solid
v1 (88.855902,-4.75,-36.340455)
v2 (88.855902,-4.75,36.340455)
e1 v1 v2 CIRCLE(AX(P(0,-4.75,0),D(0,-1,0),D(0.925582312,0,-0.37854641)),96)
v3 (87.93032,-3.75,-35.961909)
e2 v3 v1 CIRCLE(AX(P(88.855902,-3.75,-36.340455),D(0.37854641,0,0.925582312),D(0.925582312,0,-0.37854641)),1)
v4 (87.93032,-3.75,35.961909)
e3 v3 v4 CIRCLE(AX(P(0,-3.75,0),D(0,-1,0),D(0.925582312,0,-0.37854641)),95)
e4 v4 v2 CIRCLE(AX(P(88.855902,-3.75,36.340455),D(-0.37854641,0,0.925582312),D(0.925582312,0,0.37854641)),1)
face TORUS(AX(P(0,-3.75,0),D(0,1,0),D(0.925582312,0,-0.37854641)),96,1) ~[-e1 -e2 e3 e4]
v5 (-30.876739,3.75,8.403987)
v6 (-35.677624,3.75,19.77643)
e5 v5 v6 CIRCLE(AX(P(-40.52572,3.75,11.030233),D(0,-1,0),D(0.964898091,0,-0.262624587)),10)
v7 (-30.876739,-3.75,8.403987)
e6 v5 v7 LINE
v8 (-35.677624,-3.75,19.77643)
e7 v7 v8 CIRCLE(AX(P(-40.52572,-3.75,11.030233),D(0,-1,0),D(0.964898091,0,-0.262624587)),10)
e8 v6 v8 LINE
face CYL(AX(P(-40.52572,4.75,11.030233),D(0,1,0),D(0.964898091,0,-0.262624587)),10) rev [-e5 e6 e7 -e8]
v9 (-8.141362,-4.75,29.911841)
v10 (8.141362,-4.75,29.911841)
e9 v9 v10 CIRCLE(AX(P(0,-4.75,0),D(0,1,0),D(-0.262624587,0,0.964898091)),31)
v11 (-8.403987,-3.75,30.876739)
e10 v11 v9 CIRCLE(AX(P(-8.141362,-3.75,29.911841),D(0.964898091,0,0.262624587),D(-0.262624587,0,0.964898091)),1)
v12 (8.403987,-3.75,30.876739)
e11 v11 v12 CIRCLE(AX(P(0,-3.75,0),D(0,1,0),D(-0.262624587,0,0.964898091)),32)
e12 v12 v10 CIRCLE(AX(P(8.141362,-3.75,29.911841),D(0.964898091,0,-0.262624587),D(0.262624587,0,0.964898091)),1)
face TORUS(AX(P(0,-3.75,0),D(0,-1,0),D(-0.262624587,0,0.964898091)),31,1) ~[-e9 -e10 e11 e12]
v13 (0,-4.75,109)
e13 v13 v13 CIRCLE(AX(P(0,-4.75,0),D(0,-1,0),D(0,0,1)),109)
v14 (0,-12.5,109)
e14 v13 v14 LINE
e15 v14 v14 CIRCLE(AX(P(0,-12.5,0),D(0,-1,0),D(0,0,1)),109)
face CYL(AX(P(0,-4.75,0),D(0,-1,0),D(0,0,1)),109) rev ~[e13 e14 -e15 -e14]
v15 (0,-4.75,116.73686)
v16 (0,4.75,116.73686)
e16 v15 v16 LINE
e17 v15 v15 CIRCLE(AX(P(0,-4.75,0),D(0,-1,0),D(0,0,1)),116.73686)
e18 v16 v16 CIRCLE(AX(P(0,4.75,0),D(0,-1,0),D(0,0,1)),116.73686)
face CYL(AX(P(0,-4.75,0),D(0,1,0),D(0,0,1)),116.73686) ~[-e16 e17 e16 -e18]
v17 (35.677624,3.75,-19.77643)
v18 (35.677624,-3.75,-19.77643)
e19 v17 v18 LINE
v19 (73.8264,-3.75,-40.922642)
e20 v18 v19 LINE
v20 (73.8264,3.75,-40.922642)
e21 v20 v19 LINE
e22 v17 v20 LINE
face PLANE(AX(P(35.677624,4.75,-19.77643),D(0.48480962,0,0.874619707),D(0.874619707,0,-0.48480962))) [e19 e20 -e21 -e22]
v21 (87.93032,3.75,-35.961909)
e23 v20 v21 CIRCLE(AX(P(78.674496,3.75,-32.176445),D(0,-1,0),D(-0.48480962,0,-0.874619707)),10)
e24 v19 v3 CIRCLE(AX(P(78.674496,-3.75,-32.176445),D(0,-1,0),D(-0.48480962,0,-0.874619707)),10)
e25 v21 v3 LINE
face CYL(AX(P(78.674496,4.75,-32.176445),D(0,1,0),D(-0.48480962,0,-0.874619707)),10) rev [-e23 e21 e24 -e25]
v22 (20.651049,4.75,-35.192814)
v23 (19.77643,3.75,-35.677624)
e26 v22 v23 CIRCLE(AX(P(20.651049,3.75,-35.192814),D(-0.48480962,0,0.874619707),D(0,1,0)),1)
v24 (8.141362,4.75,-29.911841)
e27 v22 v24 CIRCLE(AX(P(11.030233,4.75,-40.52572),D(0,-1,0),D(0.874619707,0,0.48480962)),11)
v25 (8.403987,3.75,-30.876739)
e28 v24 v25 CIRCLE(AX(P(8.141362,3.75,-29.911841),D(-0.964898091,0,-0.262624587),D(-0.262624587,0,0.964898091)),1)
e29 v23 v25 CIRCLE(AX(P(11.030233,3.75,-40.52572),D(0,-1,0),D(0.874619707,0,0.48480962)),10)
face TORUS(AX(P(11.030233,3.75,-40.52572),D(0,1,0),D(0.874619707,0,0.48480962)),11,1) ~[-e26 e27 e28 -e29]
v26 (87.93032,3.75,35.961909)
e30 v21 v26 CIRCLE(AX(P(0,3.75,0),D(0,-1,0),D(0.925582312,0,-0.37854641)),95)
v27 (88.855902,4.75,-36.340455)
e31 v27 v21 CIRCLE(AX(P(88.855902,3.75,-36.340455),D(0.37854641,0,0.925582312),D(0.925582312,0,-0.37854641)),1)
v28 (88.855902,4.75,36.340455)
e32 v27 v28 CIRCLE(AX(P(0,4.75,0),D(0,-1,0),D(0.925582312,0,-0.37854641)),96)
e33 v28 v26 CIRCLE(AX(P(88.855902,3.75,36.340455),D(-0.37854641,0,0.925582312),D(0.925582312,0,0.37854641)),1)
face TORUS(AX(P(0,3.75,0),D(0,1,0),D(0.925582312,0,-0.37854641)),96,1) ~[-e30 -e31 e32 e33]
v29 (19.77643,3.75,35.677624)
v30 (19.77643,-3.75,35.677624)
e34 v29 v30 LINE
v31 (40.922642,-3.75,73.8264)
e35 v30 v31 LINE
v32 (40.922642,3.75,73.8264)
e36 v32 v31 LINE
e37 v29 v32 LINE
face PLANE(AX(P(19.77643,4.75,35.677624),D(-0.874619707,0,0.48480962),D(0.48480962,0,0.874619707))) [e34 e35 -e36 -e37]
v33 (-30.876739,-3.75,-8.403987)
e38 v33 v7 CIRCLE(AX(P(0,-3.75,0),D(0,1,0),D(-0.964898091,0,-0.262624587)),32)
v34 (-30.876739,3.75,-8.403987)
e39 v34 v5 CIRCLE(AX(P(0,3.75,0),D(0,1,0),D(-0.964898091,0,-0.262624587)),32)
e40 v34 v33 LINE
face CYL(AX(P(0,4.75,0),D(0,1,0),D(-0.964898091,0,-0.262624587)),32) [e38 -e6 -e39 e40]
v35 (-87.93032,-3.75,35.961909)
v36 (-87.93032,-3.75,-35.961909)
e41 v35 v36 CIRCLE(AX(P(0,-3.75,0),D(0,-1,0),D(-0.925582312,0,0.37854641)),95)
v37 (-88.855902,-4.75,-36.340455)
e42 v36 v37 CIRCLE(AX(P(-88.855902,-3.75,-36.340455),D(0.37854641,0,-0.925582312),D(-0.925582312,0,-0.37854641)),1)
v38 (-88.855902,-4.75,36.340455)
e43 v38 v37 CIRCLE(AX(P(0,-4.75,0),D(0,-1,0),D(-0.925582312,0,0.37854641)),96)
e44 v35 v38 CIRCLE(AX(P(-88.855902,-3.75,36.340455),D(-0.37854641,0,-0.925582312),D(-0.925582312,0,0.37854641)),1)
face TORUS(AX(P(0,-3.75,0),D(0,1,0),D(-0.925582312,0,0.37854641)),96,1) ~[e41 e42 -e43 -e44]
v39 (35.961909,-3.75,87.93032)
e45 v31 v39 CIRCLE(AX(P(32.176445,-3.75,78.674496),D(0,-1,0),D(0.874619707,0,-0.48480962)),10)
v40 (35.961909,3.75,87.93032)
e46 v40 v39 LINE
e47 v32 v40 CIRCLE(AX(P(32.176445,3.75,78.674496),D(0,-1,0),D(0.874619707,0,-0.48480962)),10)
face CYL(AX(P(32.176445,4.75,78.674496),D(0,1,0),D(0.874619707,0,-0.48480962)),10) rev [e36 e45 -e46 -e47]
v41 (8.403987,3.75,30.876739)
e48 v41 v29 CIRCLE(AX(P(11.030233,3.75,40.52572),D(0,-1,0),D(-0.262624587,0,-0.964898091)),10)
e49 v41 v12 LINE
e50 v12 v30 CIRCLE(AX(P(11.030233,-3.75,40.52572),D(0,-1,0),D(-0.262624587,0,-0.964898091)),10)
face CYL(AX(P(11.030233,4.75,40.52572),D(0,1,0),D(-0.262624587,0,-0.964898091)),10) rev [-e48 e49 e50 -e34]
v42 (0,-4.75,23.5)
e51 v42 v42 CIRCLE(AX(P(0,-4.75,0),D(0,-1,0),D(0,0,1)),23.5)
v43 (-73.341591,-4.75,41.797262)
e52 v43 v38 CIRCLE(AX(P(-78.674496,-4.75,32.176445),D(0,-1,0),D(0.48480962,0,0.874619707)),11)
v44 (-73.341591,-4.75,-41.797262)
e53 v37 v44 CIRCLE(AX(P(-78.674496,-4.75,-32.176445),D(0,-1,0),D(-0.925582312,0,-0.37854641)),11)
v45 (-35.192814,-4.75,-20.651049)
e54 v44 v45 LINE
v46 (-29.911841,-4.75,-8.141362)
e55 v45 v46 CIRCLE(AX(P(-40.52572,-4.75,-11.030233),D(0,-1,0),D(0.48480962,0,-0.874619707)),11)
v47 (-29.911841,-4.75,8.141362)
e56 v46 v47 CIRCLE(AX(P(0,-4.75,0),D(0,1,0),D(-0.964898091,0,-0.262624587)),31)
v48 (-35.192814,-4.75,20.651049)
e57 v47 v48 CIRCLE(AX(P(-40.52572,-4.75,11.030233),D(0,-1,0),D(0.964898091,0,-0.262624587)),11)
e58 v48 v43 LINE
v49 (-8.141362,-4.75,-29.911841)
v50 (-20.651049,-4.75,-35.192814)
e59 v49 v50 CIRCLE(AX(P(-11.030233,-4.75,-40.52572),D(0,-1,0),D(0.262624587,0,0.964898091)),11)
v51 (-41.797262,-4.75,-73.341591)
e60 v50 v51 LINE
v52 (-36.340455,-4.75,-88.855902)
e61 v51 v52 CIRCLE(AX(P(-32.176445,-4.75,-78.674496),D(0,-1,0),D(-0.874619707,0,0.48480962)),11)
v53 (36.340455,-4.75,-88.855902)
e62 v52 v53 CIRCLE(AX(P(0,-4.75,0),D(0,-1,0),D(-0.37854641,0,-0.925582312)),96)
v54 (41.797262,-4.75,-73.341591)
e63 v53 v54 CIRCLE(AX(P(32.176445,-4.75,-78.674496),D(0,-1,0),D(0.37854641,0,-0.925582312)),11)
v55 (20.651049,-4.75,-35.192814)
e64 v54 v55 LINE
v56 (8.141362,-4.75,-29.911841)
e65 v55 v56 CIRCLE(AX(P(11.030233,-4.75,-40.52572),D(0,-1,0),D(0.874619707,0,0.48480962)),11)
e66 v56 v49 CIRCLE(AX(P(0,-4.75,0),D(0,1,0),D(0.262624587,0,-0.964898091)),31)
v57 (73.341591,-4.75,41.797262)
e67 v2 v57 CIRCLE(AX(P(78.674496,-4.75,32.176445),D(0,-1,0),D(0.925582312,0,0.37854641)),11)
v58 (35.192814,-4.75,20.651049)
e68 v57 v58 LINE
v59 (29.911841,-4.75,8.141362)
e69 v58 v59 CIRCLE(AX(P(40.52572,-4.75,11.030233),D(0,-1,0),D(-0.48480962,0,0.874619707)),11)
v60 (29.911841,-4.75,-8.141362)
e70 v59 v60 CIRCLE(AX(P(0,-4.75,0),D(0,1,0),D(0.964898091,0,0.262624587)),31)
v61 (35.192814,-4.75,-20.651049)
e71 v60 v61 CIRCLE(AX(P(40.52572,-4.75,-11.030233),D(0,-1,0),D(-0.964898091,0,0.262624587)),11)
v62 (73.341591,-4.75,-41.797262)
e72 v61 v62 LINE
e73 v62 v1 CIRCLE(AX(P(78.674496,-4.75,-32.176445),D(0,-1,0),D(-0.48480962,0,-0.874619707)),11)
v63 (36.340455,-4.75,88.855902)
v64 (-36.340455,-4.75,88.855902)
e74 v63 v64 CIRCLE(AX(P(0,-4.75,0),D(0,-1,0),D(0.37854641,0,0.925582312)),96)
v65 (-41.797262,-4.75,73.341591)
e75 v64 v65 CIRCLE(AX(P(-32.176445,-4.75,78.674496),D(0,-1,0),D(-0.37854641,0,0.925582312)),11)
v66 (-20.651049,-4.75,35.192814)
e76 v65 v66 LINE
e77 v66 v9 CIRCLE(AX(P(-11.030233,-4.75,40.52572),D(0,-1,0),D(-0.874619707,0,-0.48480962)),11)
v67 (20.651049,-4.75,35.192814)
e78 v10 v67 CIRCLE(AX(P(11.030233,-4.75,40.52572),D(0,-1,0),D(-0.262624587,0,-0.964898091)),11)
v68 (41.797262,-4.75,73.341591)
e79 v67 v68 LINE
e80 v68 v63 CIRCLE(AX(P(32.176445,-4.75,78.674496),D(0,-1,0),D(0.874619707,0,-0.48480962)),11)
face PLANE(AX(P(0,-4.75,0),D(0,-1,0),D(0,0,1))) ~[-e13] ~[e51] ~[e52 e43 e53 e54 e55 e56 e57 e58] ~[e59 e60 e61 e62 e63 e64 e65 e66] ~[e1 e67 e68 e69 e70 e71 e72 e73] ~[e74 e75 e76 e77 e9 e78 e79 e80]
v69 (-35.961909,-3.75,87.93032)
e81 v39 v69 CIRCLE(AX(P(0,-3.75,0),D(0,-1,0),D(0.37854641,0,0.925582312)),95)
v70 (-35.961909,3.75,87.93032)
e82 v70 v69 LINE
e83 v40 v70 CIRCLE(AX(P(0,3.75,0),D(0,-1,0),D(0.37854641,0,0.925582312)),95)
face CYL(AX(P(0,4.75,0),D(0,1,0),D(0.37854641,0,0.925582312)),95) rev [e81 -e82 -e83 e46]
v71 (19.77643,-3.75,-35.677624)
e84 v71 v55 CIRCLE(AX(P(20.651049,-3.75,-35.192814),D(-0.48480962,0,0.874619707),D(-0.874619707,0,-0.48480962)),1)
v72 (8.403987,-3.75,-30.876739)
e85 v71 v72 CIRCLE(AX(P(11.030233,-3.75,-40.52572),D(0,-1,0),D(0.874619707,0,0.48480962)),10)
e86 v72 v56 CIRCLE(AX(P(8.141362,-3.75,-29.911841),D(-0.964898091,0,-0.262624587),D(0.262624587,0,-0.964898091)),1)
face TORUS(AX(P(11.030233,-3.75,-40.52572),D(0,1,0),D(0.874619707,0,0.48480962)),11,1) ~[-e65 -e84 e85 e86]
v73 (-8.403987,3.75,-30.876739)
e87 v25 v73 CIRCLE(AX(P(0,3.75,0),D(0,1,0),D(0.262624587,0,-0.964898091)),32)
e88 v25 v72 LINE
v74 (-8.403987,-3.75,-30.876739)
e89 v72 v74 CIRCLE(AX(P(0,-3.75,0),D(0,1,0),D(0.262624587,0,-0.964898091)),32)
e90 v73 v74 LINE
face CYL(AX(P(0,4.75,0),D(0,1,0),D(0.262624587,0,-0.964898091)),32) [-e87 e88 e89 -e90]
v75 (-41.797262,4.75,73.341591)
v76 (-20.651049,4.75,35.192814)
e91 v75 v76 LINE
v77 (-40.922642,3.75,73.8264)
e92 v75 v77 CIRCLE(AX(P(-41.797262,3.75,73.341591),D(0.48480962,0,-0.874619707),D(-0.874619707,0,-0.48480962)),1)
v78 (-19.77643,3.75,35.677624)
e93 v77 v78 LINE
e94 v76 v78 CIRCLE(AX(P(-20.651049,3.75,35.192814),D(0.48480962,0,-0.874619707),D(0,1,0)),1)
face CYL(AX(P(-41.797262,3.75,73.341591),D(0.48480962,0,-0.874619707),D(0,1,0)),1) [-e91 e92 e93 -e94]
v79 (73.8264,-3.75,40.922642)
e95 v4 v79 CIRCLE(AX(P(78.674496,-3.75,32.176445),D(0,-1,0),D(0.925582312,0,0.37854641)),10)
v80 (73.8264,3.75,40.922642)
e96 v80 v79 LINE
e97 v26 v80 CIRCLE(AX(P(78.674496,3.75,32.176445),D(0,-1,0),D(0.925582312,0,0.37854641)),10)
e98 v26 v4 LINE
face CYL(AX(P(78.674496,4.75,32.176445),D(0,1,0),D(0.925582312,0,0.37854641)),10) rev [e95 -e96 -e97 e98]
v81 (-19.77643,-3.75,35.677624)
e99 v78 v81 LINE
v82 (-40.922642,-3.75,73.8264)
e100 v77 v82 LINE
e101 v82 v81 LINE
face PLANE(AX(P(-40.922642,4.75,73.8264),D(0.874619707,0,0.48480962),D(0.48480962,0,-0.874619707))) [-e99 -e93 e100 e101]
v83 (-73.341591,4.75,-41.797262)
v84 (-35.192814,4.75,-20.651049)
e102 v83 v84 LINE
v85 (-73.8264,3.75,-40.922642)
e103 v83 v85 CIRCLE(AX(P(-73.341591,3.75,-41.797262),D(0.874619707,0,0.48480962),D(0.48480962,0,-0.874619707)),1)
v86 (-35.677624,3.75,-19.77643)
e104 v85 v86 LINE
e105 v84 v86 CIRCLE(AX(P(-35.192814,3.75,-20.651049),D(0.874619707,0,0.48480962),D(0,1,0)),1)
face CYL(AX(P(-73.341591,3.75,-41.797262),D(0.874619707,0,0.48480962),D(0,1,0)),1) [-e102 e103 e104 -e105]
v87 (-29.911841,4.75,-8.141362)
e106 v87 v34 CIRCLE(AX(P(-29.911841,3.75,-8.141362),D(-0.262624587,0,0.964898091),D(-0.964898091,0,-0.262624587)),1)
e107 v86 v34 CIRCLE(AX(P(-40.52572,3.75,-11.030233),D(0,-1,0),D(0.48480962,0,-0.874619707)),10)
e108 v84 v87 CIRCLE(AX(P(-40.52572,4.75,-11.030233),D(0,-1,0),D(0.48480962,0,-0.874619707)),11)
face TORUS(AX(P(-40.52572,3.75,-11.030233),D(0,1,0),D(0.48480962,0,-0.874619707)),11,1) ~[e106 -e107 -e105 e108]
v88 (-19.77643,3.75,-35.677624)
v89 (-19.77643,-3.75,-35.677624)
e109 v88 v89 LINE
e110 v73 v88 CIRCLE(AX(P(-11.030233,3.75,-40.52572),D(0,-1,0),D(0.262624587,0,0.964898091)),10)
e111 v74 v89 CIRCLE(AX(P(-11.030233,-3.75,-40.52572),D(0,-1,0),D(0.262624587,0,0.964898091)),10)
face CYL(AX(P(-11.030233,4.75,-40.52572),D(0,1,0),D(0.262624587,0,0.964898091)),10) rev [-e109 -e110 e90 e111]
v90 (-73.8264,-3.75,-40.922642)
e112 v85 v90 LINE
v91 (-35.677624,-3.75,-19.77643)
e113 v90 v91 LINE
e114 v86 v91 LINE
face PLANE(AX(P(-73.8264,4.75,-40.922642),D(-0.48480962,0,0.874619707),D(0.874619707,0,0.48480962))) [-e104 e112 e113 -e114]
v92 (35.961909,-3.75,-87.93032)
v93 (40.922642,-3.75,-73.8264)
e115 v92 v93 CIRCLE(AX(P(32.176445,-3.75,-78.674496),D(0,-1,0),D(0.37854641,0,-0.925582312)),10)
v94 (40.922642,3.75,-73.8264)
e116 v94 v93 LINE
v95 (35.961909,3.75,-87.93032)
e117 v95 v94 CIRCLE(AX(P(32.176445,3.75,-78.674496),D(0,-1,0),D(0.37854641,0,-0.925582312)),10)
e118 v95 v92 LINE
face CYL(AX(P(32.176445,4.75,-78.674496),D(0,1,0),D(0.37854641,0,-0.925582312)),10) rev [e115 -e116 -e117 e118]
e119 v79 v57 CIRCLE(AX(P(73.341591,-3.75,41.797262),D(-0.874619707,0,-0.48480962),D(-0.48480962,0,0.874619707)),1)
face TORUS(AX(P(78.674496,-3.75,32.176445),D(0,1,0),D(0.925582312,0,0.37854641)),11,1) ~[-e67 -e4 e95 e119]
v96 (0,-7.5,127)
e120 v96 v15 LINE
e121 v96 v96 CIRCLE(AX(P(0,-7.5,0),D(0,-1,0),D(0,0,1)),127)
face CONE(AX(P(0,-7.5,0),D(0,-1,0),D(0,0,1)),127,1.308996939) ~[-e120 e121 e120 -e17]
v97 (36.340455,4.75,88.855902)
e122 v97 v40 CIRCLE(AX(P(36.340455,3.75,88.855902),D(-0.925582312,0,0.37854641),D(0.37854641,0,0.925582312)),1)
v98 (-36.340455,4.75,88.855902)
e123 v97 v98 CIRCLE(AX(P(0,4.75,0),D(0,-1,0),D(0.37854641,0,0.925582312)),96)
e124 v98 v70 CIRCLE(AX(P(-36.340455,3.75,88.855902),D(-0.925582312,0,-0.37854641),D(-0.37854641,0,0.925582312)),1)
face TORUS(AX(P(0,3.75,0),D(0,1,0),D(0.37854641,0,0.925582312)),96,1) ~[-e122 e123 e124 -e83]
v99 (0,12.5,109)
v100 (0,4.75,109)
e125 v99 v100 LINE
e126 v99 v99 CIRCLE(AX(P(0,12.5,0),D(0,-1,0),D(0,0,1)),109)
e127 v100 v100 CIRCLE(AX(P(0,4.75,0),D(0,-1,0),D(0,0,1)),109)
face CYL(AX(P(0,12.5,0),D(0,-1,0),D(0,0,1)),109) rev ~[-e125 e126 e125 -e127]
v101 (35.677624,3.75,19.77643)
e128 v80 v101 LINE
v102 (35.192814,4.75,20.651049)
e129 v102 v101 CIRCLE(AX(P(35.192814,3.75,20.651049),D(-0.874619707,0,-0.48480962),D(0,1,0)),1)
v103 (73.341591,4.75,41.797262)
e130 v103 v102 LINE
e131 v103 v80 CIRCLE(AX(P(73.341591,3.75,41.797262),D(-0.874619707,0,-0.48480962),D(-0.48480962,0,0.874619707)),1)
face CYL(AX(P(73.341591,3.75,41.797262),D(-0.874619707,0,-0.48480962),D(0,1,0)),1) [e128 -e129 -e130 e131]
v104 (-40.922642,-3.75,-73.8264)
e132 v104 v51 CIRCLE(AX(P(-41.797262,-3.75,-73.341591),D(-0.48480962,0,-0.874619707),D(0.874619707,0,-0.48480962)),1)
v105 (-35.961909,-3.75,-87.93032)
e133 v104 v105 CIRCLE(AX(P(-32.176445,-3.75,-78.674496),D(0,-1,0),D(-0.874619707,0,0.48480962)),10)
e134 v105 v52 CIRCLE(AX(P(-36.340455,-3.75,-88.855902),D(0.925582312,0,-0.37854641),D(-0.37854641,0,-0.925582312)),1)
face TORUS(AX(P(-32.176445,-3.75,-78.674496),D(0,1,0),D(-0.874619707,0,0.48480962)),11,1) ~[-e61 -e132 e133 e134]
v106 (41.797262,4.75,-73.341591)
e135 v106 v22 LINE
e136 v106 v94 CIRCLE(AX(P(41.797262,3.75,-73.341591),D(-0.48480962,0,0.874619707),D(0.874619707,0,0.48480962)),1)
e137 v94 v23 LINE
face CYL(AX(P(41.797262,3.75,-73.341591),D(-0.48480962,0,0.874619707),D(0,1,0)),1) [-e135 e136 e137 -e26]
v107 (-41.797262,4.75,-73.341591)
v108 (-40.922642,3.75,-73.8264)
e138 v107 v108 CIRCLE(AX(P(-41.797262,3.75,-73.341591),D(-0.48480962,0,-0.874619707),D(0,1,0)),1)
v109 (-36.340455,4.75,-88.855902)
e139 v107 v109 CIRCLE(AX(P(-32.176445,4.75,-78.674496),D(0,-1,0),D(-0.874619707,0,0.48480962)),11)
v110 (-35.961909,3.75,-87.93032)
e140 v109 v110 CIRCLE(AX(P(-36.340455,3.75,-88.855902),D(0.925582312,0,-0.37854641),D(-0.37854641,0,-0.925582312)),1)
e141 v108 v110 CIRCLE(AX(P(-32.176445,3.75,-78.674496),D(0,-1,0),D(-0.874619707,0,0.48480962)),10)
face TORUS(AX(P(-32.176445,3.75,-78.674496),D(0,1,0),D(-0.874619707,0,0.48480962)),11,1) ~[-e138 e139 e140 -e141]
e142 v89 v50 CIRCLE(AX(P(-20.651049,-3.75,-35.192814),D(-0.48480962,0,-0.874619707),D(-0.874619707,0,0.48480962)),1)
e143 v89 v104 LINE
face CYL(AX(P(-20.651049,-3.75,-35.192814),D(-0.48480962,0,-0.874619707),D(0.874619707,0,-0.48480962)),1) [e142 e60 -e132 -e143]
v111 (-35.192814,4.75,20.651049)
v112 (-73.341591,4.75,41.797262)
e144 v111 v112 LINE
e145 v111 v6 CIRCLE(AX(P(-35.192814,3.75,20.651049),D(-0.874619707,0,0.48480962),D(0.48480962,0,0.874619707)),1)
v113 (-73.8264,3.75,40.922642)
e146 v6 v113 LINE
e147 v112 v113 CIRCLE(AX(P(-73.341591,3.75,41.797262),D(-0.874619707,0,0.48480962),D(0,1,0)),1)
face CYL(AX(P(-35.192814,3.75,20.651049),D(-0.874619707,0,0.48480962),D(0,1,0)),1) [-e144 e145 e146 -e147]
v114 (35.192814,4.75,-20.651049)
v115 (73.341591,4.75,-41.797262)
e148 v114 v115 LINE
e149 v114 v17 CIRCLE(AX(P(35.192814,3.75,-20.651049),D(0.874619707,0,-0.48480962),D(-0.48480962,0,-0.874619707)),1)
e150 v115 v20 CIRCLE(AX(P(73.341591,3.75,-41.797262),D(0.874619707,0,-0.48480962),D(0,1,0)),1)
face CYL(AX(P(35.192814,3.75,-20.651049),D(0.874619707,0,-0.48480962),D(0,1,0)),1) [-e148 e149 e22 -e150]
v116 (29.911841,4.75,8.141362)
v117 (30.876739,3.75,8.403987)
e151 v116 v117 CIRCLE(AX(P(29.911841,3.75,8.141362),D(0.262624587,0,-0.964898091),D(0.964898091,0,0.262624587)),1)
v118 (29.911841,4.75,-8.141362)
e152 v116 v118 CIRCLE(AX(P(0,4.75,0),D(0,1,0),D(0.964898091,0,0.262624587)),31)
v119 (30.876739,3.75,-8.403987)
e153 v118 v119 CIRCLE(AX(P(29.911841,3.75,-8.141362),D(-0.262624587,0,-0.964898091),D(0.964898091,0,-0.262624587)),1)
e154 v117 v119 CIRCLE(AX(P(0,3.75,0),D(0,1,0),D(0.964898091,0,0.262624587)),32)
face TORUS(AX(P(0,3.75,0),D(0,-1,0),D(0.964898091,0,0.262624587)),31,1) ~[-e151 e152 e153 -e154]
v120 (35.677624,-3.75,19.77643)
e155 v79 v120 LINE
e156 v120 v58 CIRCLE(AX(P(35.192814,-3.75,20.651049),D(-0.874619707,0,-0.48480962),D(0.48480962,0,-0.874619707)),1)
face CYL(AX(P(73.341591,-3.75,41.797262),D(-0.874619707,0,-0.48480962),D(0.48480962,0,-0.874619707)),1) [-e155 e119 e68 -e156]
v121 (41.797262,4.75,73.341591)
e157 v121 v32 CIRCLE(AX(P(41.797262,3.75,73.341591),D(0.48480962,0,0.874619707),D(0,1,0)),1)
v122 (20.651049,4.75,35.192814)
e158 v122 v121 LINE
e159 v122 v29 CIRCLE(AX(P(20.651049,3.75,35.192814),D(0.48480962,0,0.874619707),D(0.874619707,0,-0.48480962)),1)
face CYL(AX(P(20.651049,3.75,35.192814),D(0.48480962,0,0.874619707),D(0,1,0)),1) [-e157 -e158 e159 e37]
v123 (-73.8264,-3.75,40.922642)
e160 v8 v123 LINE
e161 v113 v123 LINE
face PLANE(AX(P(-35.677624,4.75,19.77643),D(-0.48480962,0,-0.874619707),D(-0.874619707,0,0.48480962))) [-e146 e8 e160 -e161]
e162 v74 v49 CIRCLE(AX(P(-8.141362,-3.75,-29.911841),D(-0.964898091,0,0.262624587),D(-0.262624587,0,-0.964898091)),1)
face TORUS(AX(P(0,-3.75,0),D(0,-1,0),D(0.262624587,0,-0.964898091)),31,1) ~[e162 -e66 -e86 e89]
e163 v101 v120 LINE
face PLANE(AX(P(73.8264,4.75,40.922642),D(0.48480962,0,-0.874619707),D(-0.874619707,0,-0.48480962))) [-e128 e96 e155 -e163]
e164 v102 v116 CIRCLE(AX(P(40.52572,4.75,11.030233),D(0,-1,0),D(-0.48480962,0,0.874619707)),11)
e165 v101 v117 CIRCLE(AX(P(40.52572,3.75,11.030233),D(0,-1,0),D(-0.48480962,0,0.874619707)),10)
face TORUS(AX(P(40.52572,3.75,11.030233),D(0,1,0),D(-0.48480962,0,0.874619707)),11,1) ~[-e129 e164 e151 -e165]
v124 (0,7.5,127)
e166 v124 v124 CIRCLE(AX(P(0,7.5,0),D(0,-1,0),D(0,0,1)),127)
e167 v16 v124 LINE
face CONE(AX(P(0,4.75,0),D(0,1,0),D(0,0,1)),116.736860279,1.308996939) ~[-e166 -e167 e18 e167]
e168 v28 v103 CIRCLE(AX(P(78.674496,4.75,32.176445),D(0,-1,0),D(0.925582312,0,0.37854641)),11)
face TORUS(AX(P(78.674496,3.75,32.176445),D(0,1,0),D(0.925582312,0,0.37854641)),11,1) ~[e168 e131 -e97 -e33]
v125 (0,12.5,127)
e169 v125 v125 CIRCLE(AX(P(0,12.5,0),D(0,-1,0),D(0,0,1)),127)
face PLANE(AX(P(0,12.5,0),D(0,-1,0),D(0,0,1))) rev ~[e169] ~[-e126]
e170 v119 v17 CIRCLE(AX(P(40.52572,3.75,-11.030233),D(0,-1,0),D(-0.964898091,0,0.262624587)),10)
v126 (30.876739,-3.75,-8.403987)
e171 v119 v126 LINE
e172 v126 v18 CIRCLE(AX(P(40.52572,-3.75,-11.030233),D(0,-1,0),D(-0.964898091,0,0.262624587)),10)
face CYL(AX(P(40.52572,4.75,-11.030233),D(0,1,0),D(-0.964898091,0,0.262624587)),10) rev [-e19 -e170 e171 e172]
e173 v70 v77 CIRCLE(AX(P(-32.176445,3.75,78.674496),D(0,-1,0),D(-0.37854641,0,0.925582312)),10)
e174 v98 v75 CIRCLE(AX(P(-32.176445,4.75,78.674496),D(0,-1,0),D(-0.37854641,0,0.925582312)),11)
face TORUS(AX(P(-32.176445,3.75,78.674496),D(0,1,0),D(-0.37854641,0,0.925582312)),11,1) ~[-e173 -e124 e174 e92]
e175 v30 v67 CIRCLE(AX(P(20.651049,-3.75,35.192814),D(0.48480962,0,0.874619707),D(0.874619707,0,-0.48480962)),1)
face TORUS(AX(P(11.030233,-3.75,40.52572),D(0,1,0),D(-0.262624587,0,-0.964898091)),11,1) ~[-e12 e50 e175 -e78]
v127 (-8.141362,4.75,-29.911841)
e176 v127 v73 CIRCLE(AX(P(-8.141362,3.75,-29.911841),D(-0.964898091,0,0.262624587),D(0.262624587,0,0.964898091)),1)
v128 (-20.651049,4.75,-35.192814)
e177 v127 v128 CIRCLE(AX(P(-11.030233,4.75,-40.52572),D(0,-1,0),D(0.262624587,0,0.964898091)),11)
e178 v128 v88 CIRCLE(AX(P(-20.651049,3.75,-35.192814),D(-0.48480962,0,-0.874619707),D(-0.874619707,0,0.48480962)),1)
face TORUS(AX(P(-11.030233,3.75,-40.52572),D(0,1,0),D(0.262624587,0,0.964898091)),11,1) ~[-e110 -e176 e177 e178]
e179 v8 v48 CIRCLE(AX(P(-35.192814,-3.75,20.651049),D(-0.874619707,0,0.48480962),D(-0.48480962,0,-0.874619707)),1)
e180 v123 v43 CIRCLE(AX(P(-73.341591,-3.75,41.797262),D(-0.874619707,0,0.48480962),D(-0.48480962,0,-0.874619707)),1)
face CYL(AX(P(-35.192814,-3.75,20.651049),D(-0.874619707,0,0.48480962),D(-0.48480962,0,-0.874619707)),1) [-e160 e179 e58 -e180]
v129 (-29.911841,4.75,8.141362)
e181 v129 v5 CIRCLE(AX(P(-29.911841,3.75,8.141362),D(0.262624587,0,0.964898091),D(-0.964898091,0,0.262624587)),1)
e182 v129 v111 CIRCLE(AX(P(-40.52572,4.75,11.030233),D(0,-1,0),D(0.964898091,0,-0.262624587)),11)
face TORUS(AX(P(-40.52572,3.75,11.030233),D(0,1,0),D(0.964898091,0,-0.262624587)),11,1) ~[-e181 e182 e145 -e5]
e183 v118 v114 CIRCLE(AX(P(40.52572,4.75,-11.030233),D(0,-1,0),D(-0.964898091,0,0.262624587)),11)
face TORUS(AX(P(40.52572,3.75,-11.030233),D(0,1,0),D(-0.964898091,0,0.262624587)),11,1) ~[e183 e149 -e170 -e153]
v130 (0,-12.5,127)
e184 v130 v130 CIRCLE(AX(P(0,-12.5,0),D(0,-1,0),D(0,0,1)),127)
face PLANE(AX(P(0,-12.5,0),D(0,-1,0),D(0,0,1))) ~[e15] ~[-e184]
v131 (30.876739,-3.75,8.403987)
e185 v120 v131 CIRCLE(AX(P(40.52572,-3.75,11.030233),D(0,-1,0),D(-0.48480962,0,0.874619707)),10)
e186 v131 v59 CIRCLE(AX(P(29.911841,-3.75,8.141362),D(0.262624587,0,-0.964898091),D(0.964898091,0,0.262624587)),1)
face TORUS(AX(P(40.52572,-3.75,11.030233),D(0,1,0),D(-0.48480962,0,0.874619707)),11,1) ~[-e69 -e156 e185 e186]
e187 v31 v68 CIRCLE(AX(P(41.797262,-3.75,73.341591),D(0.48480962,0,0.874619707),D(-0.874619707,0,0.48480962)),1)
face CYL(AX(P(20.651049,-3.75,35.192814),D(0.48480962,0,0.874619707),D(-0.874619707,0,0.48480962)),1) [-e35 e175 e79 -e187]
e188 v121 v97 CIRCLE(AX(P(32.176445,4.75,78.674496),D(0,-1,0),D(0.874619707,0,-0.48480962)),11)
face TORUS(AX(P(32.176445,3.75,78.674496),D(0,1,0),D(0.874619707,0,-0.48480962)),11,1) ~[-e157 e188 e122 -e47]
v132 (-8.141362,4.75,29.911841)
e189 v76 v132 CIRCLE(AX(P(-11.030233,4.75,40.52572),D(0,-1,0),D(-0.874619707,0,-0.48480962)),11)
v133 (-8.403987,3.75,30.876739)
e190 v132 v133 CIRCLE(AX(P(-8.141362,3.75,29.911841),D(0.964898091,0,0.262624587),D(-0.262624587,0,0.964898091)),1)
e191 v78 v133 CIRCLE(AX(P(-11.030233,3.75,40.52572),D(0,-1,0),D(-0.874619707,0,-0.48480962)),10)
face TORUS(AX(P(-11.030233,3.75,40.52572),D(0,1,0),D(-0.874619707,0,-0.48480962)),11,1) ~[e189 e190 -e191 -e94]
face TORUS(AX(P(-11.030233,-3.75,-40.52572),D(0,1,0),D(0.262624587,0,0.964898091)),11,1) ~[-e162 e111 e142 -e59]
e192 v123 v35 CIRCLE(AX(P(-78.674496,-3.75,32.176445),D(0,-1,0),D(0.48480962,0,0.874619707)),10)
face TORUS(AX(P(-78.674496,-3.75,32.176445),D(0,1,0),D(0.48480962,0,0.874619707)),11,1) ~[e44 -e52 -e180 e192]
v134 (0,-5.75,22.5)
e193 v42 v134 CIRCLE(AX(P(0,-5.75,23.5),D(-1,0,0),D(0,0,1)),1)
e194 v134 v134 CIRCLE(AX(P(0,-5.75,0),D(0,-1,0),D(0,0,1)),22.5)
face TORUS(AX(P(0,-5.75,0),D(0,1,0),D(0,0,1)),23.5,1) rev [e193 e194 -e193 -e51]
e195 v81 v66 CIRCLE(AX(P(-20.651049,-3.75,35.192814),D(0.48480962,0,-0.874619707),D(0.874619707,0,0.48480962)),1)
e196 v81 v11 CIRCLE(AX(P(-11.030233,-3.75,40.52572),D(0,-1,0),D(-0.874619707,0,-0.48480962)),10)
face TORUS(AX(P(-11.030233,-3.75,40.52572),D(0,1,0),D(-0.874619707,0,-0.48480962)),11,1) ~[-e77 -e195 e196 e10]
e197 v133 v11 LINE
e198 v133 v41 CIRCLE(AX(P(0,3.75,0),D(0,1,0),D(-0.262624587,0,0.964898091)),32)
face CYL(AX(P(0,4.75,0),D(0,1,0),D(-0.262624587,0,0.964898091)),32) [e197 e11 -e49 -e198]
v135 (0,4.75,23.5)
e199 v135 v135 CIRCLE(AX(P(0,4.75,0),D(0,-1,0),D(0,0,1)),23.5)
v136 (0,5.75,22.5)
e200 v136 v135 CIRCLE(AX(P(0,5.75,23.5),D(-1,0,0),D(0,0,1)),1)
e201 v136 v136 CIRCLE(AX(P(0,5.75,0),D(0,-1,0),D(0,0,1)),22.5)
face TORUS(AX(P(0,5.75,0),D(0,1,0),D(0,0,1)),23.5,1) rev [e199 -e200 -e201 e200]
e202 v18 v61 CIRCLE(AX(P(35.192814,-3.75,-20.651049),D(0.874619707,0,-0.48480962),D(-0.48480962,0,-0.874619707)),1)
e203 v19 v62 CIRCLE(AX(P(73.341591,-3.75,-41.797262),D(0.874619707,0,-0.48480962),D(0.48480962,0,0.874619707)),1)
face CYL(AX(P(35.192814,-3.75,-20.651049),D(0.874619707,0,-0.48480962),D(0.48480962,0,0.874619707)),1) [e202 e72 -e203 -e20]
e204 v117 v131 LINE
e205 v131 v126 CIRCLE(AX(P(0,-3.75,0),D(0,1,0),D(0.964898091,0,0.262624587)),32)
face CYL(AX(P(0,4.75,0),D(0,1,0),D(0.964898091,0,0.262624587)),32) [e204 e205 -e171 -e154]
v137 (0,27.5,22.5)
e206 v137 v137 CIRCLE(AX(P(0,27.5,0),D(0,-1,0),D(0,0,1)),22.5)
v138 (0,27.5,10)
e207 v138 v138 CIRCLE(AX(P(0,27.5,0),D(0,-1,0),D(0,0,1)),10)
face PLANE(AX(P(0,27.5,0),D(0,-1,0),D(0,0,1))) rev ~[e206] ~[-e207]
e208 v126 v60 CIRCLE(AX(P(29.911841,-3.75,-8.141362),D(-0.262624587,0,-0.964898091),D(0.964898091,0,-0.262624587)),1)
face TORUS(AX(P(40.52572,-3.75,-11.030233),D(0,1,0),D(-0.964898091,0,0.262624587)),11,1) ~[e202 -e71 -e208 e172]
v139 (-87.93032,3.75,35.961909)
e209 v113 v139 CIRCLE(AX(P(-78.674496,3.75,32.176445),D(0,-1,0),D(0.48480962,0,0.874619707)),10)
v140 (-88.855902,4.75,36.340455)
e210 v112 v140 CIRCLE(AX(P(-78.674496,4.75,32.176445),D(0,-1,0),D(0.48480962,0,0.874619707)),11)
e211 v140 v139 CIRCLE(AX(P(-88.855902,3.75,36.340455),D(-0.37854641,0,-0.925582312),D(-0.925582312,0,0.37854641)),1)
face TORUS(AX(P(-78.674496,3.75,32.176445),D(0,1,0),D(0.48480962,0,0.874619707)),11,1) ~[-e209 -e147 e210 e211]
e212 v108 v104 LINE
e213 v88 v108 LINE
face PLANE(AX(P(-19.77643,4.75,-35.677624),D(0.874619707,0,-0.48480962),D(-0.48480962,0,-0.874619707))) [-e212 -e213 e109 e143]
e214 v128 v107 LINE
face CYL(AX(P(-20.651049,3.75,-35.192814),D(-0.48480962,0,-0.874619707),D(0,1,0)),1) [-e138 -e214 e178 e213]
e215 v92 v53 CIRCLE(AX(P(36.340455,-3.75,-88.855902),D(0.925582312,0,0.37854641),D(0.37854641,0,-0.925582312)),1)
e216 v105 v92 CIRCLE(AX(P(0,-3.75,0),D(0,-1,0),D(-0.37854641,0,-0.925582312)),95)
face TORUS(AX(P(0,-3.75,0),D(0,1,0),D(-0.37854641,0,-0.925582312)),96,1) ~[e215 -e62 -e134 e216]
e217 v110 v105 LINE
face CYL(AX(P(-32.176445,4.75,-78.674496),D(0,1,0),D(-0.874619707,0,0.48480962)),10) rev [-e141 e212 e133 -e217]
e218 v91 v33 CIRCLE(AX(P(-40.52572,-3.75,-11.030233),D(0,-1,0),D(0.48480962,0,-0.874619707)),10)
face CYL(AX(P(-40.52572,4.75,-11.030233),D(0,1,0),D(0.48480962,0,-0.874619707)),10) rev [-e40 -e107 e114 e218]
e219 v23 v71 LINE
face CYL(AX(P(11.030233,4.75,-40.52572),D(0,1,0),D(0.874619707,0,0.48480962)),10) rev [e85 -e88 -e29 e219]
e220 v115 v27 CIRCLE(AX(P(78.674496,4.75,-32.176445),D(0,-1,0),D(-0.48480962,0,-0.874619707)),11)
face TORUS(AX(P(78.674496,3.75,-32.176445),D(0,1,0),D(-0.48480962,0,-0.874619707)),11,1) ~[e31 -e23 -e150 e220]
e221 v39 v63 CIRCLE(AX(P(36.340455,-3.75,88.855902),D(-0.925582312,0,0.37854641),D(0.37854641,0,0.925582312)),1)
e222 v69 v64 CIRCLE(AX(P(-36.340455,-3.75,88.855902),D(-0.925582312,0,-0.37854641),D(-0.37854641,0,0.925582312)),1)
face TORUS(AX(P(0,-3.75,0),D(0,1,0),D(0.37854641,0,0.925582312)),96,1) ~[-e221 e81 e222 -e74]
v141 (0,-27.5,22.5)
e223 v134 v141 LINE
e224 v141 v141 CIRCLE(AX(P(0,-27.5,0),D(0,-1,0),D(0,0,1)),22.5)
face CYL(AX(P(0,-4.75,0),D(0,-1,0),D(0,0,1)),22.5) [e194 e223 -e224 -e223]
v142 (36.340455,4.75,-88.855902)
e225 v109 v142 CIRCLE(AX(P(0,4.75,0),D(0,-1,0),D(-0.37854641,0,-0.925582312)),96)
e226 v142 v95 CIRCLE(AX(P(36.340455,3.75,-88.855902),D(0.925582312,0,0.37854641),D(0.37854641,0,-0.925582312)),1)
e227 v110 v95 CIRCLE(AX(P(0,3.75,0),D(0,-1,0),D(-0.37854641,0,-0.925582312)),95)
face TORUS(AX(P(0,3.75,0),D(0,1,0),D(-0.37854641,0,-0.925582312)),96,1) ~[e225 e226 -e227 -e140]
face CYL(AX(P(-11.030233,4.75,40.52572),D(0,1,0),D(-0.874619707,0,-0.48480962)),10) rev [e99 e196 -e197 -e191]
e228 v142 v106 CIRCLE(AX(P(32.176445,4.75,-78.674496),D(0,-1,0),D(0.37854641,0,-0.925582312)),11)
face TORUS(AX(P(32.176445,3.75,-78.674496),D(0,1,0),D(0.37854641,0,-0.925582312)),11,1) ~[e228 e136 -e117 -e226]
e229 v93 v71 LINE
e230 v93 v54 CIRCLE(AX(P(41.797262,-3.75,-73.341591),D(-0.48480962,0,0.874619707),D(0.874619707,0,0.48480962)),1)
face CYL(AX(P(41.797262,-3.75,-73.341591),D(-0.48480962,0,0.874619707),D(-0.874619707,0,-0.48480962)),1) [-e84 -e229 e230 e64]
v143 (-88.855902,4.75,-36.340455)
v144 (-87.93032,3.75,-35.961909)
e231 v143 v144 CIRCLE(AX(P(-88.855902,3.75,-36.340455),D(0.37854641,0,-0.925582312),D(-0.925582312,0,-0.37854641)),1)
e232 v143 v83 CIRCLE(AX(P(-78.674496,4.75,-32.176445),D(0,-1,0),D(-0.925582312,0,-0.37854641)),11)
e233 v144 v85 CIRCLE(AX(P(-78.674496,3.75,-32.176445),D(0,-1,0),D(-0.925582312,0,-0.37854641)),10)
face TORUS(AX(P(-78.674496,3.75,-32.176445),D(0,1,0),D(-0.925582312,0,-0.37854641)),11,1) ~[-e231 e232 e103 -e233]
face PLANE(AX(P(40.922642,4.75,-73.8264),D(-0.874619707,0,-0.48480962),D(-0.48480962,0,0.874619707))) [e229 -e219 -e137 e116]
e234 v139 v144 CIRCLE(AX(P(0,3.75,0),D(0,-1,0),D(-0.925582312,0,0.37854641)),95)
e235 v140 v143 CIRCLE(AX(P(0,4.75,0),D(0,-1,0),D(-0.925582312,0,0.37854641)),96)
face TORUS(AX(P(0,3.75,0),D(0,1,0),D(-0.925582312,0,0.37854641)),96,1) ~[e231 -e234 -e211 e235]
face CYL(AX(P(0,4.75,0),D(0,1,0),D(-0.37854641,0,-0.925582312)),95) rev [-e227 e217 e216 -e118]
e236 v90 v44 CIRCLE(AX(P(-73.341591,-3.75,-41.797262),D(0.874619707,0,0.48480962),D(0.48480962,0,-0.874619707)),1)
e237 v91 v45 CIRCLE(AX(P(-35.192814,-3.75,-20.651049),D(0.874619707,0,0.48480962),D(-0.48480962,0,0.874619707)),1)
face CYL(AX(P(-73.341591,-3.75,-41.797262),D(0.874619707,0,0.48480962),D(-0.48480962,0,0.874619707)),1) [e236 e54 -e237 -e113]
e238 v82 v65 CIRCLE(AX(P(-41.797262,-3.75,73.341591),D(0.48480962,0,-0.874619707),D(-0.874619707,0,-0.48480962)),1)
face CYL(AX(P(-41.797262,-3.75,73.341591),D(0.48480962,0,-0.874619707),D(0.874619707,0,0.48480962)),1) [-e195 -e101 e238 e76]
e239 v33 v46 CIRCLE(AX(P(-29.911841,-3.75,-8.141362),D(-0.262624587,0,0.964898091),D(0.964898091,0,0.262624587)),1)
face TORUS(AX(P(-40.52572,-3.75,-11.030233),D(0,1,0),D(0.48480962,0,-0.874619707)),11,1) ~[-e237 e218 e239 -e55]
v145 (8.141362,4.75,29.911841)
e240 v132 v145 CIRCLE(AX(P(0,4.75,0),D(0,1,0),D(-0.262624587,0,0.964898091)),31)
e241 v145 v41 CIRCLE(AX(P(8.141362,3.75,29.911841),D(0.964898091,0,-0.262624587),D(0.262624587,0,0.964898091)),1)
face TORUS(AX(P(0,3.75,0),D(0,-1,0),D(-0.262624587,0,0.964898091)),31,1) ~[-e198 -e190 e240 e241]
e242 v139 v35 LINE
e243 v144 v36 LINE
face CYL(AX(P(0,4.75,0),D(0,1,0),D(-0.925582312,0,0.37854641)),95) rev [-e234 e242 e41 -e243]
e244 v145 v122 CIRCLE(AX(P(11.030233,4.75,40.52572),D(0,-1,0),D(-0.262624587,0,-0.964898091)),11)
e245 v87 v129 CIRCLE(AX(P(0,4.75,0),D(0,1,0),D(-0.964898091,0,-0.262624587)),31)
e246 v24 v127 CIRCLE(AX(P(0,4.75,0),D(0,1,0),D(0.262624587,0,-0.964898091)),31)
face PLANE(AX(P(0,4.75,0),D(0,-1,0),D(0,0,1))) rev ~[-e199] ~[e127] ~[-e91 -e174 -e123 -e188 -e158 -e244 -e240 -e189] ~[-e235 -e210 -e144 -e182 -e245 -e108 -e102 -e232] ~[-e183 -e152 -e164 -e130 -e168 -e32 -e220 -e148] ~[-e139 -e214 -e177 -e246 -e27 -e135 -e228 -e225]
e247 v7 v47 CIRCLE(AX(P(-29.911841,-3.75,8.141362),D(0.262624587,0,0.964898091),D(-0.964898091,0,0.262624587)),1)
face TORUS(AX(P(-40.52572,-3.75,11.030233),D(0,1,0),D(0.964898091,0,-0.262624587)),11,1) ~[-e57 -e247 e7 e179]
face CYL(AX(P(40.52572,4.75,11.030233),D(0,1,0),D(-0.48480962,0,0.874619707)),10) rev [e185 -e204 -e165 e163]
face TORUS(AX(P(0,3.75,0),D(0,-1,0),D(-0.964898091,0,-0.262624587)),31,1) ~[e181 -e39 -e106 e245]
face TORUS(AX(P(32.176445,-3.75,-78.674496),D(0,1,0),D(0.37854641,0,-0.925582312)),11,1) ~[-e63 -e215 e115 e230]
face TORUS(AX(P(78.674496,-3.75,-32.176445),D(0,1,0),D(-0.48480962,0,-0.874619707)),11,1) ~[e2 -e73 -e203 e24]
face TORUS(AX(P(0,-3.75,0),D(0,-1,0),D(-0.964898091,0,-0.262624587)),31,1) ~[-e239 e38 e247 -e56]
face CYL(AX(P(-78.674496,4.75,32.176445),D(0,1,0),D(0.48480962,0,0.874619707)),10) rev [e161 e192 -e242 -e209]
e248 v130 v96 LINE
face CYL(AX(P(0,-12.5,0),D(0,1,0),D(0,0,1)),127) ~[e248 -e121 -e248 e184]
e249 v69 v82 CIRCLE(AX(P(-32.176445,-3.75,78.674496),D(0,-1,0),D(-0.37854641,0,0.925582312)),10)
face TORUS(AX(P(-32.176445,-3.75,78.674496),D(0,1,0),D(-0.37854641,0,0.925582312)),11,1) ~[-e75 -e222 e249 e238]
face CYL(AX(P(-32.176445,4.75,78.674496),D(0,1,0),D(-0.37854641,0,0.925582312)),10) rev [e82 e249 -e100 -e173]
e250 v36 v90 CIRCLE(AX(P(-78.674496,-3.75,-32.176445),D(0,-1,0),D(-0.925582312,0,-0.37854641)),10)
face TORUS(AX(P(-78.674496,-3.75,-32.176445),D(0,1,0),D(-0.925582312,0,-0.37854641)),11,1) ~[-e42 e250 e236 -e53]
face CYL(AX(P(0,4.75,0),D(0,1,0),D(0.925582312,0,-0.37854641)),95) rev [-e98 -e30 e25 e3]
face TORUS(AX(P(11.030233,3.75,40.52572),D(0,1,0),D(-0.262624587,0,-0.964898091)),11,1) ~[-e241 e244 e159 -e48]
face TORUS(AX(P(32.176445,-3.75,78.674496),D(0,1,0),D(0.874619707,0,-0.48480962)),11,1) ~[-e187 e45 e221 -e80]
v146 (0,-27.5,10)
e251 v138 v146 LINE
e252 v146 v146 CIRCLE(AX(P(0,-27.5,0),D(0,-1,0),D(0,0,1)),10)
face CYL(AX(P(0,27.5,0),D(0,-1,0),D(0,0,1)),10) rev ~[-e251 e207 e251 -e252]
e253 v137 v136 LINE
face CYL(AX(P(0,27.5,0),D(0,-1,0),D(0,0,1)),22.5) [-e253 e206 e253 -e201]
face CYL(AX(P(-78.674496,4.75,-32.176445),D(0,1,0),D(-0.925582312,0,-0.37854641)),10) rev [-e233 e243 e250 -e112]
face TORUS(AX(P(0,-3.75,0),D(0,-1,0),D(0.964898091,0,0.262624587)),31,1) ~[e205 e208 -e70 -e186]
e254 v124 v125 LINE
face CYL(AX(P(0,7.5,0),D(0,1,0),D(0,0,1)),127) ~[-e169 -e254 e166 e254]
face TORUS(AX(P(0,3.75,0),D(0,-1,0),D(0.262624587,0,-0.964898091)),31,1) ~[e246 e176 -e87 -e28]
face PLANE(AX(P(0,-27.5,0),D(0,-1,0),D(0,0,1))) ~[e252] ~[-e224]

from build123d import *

# Parameters (mm, degrees)
CUT_EXTRUDE1_DEPTH = 10
FILLET1_R          = 1
FILLET2_R          = 1
FILLET3_R          = 1


with BuildPart() as part:
    # Sketch3 → Revolve1 (revolve)
    with BuildSketch(Plane.XY, mode=Mode.PRIVATE) as revolve1_sk:
        Polygon((-10, 27.5), (-10, -27.5), (-22.5, -27.5), (-22.5, -12.5), (-22.5, -4.75), (-109, -4.75), (-109, -12.5), (-127, -12.5), (-127, -7.5), (-116.736860279, -4.75), (-116.736860279, 4.75), (-127, 7.5), (-127, 12.5), (-109, 12.5), (-109, 4.75), (-22.5, 4.75), (-22.5, 12.5), (-22.5, 27.5), align=None)
    revolve(revolve1_sk.sketch.rotate(Axis((0, 118.75, 0), (0, -1, 0)), 270), axis=Axis((0, 118.75, 0), (0, -1, 0)))

    # Sketch4 → Cut-Extrude1 (cut)
    with BuildSketch(Plane(origin=(0, 4.75, 0), x_dir=(1, 0, 0), z_dir=(0, 1, 0))):
        with BuildLine():
            Line((-19.776429712, 35.677623629), (-40.922641913, 73.826400284))
            ThreePointArc((-40.922641913, 73.826400284), (-41.609936664, 81.992512767), (-35.961908941, 87.930319602))
            ThreePointArc((-35.961908941, 87.930319602), (0, 95), (35.961908941, 87.930319602))
            ThreePointArc((35.961908941, 87.930319602), (41.609936664, 81.992512767), (40.922641913, 73.826400284))
            Line((40.922641913, 73.826400284), (19.776429712, 35.677623629))
            ThreePointArc((19.776429712, 35.677623629), (14.919393757, 31.312988108), (8.403986774, 30.87673892))
            ThreePointArc((8.403986774, 30.87673892), (0, 32), (-8.403986774, 30.87673892))
            ThreePointArc((-8.403986774, 30.87673892), (-14.919393757, 31.312988108), (-19.776429712, 35.677623629))
        make_face()
        with BuildLine():
            Line((35.677623629, 19.776429712), (73.826400284, 40.922641913))
            ThreePointArc((73.826400284, 40.922641913), (81.992512767, 41.609936664), (87.930319602, 35.961908941))
            ThreePointArc((87.930319602, 35.961908941), (95, 0), (87.930319602, -35.961908941))
            ThreePointArc((87.930319602, -35.961908941), (81.992512767, -41.609936664), (73.826400284, -40.922641913))
            Line((73.826400284, -40.922641913), (35.677623629, -19.776429712))
            ThreePointArc((35.677623629, -19.776429712), (31.312988108, -14.919393757), (30.87673892, -8.403986774))
            ThreePointArc((30.87673892, -8.403986774), (32, 0), (30.87673892, 8.403986774))
            ThreePointArc((30.87673892, 8.403986774), (31.312988108, 14.919393757), (35.677623629, 19.776429712))
        make_face()
        with BuildLine():
            Line((19.776429712, -35.677623629), (40.922641913, -73.826400284))
            ThreePointArc((40.922641913, -73.826400284), (41.609936664, -81.992512767), (35.961908941, -87.930319602))
            ThreePointArc((35.961908941, -87.930319602), (0, -95), (-35.961908941, -87.930319602))
            ThreePointArc((-35.961908941, -87.930319602), (-41.609936664, -81.992512767), (-40.922641913, -73.826400284))
            Line((-40.922641913, -73.826400284), (-19.776429712, -35.677623629))
            ThreePointArc((-19.776429712, -35.677623629), (-14.919393757, -31.312988108), (-8.403986774, -30.87673892))
            ThreePointArc((-8.403986774, -30.87673892), (0, -32), (8.403986774, -30.87673892))
            ThreePointArc((8.403986774, -30.87673892), (14.919393757, -31.312988108), (19.776429712, -35.677623629))
        make_face()
        with BuildLine():
            Line((-35.677623629, -19.776429712), (-73.826400284, -40.922641913))
            ThreePointArc((-73.826400284, -40.922641913), (-81.992512767, -41.609936664), (-87.930319602, -35.961908941))
            ThreePointArc((-87.930319602, -35.961908941), (-95, 0), (-87.930319602, 35.961908941))
            ThreePointArc((-87.930319602, 35.961908941), (-81.992512767, 41.609936664), (-73.826400284, 40.922641913))
            Line((-73.826400284, 40.922641913), (-35.677623629, 19.776429712))
            ThreePointArc((-35.677623629, 19.776429712), (-31.312988108, 14.919393757), (-30.87673892, 8.403986774))
            ThreePointArc((-30.87673892, 8.403986774), (-32, 0), (-30.87673892, -8.403986774))
            ThreePointArc((-30.87673892, -8.403986774), (-31.312988108, -14.919393757), (-35.677623629, -19.776429712))
        make_face()
    extrude(amount=-CUT_EXTRUDE1_DEPTH, mode=Mode.SUBTRACT)

    # Fillet1
    fillet1_edges = [part.edges().sort_by_distance(p)[0] for p in [
        (0, 4.75, -22.5),
    ]]
    fillet(fillet1_edges, radius=FILLET1_R)

    # Fillet2
    fillet2_edges = [part.edges().sort_by_distance(p)[0] for p in [
        (-14.919393757, 4.75, -31.312988108),
        (0, 4.75, -32),
        (14.919393757, 4.75, -31.312988108),
        (30.349535813, 4.75, -54.752011956),
        (41.609936664, 4.75, -81.992512767),
        (0, 4.75, -95),
        (-41.609936664, 4.75, -81.992512767),
        (-30.349535813, 4.75, -54.752011956),
        (0, -4.75, -22.5),
        (0, -4.75, -32),
        (14.919393757, -4.75, -31.312988108),
        (30.349535813, -4.75, -54.752011956),
        (41.609936664, -4.75, -81.992512767),
        (0, -4.75, -95),
        (-41.609936664, -4.75, -81.992512767),
        (-30.349535813, -4.75, -54.752011956),
        (-14.919393757, -4.75, -31.312988108),
        (32, -4.75, 0),
        (31.312988108, -4.75, -14.919393757),
        (54.752011956, -4.75, -30.349535813),
        (81.992512767, -4.75, -41.609936664),
        (95, -4.75, 0),
        (81.992512767, -4.75, 41.609936664),
        (54.752011956, -4.75, 30.349535813),
        (31.312988108, -4.75, 14.919393757),
        (32, 4.75, 0),
        (31.312988108, 4.75, 14.919393757),
        (54.752011956, 4.75, 30.349535813),
        (81.992512767, 4.75, 41.609936664),
        (95, 4.75, 0),
        (81.992512767, 4.75, -41.609936664),
        (54.752011956, 4.75, -30.349535813),
        (31.312988108, 4.75, -14.919393757),
    ]]
    fillet(fillet2_edges, radius=FILLET2_R)

    # Fillet3
    fillet3_edges = [part.edges().sort_by_distance(p)[0] for p in [
        (-54.752011956, -4.75, 30.349535813),
        (-81.992512767, -4.75, 41.609936664),
        (-95, -4.75, 0),
        (-81.992512767, -4.75, -41.609936664),
        (-54.752011956, -4.75, -30.349535813),
        (-31.312988108, -4.75, -14.919393757),
        (-32, 4.75, 0),
        (-31.312988108, 4.75, -14.919393757),
        (-54.752011956, 4.75, -30.349535813),
        (-81.992512767, 4.75, -41.609936664),
        (-95, 4.75, 0),
        (-81.992512767, 4.75, 41.609936664),
        (-54.752011956, 4.75, 30.349535813),
        (-31.312988108, 4.75, 14.919393757),
        (0, -4.75, 32),
        (14.919393757, -4.75, 31.312988108),
        (30.349535813, -4.75, 54.752011956),
        (41.609936664, -4.75, 81.992512767),
        (0, -4.75, 95),
        (-41.609936664, -4.75, 81.992512767),
        (-30.349535813, -4.75, 54.752011956),
        (-14.919393757, -4.75, 31.312988108),
        (0, 4.75, 32),
        (-14.919393757, 4.75, 31.312988108),
        (-30.349535813, 4.75, 54.752011956),
        (-41.609936664, 4.75, 81.992512767),
        (0, 4.75, 95),
        (41.609936664, 4.75, 81.992512767),
        (30.349535813, 4.75, 54.752011956),
        (14.919393757, 4.75, 31.312988108),
        (-32, -4.75, 0),
        (-31.312988108, -4.75, 14.919393757),
    ]]
    fillet(fillet3_edges, radius=FILLET3_R)


solid = part.part
